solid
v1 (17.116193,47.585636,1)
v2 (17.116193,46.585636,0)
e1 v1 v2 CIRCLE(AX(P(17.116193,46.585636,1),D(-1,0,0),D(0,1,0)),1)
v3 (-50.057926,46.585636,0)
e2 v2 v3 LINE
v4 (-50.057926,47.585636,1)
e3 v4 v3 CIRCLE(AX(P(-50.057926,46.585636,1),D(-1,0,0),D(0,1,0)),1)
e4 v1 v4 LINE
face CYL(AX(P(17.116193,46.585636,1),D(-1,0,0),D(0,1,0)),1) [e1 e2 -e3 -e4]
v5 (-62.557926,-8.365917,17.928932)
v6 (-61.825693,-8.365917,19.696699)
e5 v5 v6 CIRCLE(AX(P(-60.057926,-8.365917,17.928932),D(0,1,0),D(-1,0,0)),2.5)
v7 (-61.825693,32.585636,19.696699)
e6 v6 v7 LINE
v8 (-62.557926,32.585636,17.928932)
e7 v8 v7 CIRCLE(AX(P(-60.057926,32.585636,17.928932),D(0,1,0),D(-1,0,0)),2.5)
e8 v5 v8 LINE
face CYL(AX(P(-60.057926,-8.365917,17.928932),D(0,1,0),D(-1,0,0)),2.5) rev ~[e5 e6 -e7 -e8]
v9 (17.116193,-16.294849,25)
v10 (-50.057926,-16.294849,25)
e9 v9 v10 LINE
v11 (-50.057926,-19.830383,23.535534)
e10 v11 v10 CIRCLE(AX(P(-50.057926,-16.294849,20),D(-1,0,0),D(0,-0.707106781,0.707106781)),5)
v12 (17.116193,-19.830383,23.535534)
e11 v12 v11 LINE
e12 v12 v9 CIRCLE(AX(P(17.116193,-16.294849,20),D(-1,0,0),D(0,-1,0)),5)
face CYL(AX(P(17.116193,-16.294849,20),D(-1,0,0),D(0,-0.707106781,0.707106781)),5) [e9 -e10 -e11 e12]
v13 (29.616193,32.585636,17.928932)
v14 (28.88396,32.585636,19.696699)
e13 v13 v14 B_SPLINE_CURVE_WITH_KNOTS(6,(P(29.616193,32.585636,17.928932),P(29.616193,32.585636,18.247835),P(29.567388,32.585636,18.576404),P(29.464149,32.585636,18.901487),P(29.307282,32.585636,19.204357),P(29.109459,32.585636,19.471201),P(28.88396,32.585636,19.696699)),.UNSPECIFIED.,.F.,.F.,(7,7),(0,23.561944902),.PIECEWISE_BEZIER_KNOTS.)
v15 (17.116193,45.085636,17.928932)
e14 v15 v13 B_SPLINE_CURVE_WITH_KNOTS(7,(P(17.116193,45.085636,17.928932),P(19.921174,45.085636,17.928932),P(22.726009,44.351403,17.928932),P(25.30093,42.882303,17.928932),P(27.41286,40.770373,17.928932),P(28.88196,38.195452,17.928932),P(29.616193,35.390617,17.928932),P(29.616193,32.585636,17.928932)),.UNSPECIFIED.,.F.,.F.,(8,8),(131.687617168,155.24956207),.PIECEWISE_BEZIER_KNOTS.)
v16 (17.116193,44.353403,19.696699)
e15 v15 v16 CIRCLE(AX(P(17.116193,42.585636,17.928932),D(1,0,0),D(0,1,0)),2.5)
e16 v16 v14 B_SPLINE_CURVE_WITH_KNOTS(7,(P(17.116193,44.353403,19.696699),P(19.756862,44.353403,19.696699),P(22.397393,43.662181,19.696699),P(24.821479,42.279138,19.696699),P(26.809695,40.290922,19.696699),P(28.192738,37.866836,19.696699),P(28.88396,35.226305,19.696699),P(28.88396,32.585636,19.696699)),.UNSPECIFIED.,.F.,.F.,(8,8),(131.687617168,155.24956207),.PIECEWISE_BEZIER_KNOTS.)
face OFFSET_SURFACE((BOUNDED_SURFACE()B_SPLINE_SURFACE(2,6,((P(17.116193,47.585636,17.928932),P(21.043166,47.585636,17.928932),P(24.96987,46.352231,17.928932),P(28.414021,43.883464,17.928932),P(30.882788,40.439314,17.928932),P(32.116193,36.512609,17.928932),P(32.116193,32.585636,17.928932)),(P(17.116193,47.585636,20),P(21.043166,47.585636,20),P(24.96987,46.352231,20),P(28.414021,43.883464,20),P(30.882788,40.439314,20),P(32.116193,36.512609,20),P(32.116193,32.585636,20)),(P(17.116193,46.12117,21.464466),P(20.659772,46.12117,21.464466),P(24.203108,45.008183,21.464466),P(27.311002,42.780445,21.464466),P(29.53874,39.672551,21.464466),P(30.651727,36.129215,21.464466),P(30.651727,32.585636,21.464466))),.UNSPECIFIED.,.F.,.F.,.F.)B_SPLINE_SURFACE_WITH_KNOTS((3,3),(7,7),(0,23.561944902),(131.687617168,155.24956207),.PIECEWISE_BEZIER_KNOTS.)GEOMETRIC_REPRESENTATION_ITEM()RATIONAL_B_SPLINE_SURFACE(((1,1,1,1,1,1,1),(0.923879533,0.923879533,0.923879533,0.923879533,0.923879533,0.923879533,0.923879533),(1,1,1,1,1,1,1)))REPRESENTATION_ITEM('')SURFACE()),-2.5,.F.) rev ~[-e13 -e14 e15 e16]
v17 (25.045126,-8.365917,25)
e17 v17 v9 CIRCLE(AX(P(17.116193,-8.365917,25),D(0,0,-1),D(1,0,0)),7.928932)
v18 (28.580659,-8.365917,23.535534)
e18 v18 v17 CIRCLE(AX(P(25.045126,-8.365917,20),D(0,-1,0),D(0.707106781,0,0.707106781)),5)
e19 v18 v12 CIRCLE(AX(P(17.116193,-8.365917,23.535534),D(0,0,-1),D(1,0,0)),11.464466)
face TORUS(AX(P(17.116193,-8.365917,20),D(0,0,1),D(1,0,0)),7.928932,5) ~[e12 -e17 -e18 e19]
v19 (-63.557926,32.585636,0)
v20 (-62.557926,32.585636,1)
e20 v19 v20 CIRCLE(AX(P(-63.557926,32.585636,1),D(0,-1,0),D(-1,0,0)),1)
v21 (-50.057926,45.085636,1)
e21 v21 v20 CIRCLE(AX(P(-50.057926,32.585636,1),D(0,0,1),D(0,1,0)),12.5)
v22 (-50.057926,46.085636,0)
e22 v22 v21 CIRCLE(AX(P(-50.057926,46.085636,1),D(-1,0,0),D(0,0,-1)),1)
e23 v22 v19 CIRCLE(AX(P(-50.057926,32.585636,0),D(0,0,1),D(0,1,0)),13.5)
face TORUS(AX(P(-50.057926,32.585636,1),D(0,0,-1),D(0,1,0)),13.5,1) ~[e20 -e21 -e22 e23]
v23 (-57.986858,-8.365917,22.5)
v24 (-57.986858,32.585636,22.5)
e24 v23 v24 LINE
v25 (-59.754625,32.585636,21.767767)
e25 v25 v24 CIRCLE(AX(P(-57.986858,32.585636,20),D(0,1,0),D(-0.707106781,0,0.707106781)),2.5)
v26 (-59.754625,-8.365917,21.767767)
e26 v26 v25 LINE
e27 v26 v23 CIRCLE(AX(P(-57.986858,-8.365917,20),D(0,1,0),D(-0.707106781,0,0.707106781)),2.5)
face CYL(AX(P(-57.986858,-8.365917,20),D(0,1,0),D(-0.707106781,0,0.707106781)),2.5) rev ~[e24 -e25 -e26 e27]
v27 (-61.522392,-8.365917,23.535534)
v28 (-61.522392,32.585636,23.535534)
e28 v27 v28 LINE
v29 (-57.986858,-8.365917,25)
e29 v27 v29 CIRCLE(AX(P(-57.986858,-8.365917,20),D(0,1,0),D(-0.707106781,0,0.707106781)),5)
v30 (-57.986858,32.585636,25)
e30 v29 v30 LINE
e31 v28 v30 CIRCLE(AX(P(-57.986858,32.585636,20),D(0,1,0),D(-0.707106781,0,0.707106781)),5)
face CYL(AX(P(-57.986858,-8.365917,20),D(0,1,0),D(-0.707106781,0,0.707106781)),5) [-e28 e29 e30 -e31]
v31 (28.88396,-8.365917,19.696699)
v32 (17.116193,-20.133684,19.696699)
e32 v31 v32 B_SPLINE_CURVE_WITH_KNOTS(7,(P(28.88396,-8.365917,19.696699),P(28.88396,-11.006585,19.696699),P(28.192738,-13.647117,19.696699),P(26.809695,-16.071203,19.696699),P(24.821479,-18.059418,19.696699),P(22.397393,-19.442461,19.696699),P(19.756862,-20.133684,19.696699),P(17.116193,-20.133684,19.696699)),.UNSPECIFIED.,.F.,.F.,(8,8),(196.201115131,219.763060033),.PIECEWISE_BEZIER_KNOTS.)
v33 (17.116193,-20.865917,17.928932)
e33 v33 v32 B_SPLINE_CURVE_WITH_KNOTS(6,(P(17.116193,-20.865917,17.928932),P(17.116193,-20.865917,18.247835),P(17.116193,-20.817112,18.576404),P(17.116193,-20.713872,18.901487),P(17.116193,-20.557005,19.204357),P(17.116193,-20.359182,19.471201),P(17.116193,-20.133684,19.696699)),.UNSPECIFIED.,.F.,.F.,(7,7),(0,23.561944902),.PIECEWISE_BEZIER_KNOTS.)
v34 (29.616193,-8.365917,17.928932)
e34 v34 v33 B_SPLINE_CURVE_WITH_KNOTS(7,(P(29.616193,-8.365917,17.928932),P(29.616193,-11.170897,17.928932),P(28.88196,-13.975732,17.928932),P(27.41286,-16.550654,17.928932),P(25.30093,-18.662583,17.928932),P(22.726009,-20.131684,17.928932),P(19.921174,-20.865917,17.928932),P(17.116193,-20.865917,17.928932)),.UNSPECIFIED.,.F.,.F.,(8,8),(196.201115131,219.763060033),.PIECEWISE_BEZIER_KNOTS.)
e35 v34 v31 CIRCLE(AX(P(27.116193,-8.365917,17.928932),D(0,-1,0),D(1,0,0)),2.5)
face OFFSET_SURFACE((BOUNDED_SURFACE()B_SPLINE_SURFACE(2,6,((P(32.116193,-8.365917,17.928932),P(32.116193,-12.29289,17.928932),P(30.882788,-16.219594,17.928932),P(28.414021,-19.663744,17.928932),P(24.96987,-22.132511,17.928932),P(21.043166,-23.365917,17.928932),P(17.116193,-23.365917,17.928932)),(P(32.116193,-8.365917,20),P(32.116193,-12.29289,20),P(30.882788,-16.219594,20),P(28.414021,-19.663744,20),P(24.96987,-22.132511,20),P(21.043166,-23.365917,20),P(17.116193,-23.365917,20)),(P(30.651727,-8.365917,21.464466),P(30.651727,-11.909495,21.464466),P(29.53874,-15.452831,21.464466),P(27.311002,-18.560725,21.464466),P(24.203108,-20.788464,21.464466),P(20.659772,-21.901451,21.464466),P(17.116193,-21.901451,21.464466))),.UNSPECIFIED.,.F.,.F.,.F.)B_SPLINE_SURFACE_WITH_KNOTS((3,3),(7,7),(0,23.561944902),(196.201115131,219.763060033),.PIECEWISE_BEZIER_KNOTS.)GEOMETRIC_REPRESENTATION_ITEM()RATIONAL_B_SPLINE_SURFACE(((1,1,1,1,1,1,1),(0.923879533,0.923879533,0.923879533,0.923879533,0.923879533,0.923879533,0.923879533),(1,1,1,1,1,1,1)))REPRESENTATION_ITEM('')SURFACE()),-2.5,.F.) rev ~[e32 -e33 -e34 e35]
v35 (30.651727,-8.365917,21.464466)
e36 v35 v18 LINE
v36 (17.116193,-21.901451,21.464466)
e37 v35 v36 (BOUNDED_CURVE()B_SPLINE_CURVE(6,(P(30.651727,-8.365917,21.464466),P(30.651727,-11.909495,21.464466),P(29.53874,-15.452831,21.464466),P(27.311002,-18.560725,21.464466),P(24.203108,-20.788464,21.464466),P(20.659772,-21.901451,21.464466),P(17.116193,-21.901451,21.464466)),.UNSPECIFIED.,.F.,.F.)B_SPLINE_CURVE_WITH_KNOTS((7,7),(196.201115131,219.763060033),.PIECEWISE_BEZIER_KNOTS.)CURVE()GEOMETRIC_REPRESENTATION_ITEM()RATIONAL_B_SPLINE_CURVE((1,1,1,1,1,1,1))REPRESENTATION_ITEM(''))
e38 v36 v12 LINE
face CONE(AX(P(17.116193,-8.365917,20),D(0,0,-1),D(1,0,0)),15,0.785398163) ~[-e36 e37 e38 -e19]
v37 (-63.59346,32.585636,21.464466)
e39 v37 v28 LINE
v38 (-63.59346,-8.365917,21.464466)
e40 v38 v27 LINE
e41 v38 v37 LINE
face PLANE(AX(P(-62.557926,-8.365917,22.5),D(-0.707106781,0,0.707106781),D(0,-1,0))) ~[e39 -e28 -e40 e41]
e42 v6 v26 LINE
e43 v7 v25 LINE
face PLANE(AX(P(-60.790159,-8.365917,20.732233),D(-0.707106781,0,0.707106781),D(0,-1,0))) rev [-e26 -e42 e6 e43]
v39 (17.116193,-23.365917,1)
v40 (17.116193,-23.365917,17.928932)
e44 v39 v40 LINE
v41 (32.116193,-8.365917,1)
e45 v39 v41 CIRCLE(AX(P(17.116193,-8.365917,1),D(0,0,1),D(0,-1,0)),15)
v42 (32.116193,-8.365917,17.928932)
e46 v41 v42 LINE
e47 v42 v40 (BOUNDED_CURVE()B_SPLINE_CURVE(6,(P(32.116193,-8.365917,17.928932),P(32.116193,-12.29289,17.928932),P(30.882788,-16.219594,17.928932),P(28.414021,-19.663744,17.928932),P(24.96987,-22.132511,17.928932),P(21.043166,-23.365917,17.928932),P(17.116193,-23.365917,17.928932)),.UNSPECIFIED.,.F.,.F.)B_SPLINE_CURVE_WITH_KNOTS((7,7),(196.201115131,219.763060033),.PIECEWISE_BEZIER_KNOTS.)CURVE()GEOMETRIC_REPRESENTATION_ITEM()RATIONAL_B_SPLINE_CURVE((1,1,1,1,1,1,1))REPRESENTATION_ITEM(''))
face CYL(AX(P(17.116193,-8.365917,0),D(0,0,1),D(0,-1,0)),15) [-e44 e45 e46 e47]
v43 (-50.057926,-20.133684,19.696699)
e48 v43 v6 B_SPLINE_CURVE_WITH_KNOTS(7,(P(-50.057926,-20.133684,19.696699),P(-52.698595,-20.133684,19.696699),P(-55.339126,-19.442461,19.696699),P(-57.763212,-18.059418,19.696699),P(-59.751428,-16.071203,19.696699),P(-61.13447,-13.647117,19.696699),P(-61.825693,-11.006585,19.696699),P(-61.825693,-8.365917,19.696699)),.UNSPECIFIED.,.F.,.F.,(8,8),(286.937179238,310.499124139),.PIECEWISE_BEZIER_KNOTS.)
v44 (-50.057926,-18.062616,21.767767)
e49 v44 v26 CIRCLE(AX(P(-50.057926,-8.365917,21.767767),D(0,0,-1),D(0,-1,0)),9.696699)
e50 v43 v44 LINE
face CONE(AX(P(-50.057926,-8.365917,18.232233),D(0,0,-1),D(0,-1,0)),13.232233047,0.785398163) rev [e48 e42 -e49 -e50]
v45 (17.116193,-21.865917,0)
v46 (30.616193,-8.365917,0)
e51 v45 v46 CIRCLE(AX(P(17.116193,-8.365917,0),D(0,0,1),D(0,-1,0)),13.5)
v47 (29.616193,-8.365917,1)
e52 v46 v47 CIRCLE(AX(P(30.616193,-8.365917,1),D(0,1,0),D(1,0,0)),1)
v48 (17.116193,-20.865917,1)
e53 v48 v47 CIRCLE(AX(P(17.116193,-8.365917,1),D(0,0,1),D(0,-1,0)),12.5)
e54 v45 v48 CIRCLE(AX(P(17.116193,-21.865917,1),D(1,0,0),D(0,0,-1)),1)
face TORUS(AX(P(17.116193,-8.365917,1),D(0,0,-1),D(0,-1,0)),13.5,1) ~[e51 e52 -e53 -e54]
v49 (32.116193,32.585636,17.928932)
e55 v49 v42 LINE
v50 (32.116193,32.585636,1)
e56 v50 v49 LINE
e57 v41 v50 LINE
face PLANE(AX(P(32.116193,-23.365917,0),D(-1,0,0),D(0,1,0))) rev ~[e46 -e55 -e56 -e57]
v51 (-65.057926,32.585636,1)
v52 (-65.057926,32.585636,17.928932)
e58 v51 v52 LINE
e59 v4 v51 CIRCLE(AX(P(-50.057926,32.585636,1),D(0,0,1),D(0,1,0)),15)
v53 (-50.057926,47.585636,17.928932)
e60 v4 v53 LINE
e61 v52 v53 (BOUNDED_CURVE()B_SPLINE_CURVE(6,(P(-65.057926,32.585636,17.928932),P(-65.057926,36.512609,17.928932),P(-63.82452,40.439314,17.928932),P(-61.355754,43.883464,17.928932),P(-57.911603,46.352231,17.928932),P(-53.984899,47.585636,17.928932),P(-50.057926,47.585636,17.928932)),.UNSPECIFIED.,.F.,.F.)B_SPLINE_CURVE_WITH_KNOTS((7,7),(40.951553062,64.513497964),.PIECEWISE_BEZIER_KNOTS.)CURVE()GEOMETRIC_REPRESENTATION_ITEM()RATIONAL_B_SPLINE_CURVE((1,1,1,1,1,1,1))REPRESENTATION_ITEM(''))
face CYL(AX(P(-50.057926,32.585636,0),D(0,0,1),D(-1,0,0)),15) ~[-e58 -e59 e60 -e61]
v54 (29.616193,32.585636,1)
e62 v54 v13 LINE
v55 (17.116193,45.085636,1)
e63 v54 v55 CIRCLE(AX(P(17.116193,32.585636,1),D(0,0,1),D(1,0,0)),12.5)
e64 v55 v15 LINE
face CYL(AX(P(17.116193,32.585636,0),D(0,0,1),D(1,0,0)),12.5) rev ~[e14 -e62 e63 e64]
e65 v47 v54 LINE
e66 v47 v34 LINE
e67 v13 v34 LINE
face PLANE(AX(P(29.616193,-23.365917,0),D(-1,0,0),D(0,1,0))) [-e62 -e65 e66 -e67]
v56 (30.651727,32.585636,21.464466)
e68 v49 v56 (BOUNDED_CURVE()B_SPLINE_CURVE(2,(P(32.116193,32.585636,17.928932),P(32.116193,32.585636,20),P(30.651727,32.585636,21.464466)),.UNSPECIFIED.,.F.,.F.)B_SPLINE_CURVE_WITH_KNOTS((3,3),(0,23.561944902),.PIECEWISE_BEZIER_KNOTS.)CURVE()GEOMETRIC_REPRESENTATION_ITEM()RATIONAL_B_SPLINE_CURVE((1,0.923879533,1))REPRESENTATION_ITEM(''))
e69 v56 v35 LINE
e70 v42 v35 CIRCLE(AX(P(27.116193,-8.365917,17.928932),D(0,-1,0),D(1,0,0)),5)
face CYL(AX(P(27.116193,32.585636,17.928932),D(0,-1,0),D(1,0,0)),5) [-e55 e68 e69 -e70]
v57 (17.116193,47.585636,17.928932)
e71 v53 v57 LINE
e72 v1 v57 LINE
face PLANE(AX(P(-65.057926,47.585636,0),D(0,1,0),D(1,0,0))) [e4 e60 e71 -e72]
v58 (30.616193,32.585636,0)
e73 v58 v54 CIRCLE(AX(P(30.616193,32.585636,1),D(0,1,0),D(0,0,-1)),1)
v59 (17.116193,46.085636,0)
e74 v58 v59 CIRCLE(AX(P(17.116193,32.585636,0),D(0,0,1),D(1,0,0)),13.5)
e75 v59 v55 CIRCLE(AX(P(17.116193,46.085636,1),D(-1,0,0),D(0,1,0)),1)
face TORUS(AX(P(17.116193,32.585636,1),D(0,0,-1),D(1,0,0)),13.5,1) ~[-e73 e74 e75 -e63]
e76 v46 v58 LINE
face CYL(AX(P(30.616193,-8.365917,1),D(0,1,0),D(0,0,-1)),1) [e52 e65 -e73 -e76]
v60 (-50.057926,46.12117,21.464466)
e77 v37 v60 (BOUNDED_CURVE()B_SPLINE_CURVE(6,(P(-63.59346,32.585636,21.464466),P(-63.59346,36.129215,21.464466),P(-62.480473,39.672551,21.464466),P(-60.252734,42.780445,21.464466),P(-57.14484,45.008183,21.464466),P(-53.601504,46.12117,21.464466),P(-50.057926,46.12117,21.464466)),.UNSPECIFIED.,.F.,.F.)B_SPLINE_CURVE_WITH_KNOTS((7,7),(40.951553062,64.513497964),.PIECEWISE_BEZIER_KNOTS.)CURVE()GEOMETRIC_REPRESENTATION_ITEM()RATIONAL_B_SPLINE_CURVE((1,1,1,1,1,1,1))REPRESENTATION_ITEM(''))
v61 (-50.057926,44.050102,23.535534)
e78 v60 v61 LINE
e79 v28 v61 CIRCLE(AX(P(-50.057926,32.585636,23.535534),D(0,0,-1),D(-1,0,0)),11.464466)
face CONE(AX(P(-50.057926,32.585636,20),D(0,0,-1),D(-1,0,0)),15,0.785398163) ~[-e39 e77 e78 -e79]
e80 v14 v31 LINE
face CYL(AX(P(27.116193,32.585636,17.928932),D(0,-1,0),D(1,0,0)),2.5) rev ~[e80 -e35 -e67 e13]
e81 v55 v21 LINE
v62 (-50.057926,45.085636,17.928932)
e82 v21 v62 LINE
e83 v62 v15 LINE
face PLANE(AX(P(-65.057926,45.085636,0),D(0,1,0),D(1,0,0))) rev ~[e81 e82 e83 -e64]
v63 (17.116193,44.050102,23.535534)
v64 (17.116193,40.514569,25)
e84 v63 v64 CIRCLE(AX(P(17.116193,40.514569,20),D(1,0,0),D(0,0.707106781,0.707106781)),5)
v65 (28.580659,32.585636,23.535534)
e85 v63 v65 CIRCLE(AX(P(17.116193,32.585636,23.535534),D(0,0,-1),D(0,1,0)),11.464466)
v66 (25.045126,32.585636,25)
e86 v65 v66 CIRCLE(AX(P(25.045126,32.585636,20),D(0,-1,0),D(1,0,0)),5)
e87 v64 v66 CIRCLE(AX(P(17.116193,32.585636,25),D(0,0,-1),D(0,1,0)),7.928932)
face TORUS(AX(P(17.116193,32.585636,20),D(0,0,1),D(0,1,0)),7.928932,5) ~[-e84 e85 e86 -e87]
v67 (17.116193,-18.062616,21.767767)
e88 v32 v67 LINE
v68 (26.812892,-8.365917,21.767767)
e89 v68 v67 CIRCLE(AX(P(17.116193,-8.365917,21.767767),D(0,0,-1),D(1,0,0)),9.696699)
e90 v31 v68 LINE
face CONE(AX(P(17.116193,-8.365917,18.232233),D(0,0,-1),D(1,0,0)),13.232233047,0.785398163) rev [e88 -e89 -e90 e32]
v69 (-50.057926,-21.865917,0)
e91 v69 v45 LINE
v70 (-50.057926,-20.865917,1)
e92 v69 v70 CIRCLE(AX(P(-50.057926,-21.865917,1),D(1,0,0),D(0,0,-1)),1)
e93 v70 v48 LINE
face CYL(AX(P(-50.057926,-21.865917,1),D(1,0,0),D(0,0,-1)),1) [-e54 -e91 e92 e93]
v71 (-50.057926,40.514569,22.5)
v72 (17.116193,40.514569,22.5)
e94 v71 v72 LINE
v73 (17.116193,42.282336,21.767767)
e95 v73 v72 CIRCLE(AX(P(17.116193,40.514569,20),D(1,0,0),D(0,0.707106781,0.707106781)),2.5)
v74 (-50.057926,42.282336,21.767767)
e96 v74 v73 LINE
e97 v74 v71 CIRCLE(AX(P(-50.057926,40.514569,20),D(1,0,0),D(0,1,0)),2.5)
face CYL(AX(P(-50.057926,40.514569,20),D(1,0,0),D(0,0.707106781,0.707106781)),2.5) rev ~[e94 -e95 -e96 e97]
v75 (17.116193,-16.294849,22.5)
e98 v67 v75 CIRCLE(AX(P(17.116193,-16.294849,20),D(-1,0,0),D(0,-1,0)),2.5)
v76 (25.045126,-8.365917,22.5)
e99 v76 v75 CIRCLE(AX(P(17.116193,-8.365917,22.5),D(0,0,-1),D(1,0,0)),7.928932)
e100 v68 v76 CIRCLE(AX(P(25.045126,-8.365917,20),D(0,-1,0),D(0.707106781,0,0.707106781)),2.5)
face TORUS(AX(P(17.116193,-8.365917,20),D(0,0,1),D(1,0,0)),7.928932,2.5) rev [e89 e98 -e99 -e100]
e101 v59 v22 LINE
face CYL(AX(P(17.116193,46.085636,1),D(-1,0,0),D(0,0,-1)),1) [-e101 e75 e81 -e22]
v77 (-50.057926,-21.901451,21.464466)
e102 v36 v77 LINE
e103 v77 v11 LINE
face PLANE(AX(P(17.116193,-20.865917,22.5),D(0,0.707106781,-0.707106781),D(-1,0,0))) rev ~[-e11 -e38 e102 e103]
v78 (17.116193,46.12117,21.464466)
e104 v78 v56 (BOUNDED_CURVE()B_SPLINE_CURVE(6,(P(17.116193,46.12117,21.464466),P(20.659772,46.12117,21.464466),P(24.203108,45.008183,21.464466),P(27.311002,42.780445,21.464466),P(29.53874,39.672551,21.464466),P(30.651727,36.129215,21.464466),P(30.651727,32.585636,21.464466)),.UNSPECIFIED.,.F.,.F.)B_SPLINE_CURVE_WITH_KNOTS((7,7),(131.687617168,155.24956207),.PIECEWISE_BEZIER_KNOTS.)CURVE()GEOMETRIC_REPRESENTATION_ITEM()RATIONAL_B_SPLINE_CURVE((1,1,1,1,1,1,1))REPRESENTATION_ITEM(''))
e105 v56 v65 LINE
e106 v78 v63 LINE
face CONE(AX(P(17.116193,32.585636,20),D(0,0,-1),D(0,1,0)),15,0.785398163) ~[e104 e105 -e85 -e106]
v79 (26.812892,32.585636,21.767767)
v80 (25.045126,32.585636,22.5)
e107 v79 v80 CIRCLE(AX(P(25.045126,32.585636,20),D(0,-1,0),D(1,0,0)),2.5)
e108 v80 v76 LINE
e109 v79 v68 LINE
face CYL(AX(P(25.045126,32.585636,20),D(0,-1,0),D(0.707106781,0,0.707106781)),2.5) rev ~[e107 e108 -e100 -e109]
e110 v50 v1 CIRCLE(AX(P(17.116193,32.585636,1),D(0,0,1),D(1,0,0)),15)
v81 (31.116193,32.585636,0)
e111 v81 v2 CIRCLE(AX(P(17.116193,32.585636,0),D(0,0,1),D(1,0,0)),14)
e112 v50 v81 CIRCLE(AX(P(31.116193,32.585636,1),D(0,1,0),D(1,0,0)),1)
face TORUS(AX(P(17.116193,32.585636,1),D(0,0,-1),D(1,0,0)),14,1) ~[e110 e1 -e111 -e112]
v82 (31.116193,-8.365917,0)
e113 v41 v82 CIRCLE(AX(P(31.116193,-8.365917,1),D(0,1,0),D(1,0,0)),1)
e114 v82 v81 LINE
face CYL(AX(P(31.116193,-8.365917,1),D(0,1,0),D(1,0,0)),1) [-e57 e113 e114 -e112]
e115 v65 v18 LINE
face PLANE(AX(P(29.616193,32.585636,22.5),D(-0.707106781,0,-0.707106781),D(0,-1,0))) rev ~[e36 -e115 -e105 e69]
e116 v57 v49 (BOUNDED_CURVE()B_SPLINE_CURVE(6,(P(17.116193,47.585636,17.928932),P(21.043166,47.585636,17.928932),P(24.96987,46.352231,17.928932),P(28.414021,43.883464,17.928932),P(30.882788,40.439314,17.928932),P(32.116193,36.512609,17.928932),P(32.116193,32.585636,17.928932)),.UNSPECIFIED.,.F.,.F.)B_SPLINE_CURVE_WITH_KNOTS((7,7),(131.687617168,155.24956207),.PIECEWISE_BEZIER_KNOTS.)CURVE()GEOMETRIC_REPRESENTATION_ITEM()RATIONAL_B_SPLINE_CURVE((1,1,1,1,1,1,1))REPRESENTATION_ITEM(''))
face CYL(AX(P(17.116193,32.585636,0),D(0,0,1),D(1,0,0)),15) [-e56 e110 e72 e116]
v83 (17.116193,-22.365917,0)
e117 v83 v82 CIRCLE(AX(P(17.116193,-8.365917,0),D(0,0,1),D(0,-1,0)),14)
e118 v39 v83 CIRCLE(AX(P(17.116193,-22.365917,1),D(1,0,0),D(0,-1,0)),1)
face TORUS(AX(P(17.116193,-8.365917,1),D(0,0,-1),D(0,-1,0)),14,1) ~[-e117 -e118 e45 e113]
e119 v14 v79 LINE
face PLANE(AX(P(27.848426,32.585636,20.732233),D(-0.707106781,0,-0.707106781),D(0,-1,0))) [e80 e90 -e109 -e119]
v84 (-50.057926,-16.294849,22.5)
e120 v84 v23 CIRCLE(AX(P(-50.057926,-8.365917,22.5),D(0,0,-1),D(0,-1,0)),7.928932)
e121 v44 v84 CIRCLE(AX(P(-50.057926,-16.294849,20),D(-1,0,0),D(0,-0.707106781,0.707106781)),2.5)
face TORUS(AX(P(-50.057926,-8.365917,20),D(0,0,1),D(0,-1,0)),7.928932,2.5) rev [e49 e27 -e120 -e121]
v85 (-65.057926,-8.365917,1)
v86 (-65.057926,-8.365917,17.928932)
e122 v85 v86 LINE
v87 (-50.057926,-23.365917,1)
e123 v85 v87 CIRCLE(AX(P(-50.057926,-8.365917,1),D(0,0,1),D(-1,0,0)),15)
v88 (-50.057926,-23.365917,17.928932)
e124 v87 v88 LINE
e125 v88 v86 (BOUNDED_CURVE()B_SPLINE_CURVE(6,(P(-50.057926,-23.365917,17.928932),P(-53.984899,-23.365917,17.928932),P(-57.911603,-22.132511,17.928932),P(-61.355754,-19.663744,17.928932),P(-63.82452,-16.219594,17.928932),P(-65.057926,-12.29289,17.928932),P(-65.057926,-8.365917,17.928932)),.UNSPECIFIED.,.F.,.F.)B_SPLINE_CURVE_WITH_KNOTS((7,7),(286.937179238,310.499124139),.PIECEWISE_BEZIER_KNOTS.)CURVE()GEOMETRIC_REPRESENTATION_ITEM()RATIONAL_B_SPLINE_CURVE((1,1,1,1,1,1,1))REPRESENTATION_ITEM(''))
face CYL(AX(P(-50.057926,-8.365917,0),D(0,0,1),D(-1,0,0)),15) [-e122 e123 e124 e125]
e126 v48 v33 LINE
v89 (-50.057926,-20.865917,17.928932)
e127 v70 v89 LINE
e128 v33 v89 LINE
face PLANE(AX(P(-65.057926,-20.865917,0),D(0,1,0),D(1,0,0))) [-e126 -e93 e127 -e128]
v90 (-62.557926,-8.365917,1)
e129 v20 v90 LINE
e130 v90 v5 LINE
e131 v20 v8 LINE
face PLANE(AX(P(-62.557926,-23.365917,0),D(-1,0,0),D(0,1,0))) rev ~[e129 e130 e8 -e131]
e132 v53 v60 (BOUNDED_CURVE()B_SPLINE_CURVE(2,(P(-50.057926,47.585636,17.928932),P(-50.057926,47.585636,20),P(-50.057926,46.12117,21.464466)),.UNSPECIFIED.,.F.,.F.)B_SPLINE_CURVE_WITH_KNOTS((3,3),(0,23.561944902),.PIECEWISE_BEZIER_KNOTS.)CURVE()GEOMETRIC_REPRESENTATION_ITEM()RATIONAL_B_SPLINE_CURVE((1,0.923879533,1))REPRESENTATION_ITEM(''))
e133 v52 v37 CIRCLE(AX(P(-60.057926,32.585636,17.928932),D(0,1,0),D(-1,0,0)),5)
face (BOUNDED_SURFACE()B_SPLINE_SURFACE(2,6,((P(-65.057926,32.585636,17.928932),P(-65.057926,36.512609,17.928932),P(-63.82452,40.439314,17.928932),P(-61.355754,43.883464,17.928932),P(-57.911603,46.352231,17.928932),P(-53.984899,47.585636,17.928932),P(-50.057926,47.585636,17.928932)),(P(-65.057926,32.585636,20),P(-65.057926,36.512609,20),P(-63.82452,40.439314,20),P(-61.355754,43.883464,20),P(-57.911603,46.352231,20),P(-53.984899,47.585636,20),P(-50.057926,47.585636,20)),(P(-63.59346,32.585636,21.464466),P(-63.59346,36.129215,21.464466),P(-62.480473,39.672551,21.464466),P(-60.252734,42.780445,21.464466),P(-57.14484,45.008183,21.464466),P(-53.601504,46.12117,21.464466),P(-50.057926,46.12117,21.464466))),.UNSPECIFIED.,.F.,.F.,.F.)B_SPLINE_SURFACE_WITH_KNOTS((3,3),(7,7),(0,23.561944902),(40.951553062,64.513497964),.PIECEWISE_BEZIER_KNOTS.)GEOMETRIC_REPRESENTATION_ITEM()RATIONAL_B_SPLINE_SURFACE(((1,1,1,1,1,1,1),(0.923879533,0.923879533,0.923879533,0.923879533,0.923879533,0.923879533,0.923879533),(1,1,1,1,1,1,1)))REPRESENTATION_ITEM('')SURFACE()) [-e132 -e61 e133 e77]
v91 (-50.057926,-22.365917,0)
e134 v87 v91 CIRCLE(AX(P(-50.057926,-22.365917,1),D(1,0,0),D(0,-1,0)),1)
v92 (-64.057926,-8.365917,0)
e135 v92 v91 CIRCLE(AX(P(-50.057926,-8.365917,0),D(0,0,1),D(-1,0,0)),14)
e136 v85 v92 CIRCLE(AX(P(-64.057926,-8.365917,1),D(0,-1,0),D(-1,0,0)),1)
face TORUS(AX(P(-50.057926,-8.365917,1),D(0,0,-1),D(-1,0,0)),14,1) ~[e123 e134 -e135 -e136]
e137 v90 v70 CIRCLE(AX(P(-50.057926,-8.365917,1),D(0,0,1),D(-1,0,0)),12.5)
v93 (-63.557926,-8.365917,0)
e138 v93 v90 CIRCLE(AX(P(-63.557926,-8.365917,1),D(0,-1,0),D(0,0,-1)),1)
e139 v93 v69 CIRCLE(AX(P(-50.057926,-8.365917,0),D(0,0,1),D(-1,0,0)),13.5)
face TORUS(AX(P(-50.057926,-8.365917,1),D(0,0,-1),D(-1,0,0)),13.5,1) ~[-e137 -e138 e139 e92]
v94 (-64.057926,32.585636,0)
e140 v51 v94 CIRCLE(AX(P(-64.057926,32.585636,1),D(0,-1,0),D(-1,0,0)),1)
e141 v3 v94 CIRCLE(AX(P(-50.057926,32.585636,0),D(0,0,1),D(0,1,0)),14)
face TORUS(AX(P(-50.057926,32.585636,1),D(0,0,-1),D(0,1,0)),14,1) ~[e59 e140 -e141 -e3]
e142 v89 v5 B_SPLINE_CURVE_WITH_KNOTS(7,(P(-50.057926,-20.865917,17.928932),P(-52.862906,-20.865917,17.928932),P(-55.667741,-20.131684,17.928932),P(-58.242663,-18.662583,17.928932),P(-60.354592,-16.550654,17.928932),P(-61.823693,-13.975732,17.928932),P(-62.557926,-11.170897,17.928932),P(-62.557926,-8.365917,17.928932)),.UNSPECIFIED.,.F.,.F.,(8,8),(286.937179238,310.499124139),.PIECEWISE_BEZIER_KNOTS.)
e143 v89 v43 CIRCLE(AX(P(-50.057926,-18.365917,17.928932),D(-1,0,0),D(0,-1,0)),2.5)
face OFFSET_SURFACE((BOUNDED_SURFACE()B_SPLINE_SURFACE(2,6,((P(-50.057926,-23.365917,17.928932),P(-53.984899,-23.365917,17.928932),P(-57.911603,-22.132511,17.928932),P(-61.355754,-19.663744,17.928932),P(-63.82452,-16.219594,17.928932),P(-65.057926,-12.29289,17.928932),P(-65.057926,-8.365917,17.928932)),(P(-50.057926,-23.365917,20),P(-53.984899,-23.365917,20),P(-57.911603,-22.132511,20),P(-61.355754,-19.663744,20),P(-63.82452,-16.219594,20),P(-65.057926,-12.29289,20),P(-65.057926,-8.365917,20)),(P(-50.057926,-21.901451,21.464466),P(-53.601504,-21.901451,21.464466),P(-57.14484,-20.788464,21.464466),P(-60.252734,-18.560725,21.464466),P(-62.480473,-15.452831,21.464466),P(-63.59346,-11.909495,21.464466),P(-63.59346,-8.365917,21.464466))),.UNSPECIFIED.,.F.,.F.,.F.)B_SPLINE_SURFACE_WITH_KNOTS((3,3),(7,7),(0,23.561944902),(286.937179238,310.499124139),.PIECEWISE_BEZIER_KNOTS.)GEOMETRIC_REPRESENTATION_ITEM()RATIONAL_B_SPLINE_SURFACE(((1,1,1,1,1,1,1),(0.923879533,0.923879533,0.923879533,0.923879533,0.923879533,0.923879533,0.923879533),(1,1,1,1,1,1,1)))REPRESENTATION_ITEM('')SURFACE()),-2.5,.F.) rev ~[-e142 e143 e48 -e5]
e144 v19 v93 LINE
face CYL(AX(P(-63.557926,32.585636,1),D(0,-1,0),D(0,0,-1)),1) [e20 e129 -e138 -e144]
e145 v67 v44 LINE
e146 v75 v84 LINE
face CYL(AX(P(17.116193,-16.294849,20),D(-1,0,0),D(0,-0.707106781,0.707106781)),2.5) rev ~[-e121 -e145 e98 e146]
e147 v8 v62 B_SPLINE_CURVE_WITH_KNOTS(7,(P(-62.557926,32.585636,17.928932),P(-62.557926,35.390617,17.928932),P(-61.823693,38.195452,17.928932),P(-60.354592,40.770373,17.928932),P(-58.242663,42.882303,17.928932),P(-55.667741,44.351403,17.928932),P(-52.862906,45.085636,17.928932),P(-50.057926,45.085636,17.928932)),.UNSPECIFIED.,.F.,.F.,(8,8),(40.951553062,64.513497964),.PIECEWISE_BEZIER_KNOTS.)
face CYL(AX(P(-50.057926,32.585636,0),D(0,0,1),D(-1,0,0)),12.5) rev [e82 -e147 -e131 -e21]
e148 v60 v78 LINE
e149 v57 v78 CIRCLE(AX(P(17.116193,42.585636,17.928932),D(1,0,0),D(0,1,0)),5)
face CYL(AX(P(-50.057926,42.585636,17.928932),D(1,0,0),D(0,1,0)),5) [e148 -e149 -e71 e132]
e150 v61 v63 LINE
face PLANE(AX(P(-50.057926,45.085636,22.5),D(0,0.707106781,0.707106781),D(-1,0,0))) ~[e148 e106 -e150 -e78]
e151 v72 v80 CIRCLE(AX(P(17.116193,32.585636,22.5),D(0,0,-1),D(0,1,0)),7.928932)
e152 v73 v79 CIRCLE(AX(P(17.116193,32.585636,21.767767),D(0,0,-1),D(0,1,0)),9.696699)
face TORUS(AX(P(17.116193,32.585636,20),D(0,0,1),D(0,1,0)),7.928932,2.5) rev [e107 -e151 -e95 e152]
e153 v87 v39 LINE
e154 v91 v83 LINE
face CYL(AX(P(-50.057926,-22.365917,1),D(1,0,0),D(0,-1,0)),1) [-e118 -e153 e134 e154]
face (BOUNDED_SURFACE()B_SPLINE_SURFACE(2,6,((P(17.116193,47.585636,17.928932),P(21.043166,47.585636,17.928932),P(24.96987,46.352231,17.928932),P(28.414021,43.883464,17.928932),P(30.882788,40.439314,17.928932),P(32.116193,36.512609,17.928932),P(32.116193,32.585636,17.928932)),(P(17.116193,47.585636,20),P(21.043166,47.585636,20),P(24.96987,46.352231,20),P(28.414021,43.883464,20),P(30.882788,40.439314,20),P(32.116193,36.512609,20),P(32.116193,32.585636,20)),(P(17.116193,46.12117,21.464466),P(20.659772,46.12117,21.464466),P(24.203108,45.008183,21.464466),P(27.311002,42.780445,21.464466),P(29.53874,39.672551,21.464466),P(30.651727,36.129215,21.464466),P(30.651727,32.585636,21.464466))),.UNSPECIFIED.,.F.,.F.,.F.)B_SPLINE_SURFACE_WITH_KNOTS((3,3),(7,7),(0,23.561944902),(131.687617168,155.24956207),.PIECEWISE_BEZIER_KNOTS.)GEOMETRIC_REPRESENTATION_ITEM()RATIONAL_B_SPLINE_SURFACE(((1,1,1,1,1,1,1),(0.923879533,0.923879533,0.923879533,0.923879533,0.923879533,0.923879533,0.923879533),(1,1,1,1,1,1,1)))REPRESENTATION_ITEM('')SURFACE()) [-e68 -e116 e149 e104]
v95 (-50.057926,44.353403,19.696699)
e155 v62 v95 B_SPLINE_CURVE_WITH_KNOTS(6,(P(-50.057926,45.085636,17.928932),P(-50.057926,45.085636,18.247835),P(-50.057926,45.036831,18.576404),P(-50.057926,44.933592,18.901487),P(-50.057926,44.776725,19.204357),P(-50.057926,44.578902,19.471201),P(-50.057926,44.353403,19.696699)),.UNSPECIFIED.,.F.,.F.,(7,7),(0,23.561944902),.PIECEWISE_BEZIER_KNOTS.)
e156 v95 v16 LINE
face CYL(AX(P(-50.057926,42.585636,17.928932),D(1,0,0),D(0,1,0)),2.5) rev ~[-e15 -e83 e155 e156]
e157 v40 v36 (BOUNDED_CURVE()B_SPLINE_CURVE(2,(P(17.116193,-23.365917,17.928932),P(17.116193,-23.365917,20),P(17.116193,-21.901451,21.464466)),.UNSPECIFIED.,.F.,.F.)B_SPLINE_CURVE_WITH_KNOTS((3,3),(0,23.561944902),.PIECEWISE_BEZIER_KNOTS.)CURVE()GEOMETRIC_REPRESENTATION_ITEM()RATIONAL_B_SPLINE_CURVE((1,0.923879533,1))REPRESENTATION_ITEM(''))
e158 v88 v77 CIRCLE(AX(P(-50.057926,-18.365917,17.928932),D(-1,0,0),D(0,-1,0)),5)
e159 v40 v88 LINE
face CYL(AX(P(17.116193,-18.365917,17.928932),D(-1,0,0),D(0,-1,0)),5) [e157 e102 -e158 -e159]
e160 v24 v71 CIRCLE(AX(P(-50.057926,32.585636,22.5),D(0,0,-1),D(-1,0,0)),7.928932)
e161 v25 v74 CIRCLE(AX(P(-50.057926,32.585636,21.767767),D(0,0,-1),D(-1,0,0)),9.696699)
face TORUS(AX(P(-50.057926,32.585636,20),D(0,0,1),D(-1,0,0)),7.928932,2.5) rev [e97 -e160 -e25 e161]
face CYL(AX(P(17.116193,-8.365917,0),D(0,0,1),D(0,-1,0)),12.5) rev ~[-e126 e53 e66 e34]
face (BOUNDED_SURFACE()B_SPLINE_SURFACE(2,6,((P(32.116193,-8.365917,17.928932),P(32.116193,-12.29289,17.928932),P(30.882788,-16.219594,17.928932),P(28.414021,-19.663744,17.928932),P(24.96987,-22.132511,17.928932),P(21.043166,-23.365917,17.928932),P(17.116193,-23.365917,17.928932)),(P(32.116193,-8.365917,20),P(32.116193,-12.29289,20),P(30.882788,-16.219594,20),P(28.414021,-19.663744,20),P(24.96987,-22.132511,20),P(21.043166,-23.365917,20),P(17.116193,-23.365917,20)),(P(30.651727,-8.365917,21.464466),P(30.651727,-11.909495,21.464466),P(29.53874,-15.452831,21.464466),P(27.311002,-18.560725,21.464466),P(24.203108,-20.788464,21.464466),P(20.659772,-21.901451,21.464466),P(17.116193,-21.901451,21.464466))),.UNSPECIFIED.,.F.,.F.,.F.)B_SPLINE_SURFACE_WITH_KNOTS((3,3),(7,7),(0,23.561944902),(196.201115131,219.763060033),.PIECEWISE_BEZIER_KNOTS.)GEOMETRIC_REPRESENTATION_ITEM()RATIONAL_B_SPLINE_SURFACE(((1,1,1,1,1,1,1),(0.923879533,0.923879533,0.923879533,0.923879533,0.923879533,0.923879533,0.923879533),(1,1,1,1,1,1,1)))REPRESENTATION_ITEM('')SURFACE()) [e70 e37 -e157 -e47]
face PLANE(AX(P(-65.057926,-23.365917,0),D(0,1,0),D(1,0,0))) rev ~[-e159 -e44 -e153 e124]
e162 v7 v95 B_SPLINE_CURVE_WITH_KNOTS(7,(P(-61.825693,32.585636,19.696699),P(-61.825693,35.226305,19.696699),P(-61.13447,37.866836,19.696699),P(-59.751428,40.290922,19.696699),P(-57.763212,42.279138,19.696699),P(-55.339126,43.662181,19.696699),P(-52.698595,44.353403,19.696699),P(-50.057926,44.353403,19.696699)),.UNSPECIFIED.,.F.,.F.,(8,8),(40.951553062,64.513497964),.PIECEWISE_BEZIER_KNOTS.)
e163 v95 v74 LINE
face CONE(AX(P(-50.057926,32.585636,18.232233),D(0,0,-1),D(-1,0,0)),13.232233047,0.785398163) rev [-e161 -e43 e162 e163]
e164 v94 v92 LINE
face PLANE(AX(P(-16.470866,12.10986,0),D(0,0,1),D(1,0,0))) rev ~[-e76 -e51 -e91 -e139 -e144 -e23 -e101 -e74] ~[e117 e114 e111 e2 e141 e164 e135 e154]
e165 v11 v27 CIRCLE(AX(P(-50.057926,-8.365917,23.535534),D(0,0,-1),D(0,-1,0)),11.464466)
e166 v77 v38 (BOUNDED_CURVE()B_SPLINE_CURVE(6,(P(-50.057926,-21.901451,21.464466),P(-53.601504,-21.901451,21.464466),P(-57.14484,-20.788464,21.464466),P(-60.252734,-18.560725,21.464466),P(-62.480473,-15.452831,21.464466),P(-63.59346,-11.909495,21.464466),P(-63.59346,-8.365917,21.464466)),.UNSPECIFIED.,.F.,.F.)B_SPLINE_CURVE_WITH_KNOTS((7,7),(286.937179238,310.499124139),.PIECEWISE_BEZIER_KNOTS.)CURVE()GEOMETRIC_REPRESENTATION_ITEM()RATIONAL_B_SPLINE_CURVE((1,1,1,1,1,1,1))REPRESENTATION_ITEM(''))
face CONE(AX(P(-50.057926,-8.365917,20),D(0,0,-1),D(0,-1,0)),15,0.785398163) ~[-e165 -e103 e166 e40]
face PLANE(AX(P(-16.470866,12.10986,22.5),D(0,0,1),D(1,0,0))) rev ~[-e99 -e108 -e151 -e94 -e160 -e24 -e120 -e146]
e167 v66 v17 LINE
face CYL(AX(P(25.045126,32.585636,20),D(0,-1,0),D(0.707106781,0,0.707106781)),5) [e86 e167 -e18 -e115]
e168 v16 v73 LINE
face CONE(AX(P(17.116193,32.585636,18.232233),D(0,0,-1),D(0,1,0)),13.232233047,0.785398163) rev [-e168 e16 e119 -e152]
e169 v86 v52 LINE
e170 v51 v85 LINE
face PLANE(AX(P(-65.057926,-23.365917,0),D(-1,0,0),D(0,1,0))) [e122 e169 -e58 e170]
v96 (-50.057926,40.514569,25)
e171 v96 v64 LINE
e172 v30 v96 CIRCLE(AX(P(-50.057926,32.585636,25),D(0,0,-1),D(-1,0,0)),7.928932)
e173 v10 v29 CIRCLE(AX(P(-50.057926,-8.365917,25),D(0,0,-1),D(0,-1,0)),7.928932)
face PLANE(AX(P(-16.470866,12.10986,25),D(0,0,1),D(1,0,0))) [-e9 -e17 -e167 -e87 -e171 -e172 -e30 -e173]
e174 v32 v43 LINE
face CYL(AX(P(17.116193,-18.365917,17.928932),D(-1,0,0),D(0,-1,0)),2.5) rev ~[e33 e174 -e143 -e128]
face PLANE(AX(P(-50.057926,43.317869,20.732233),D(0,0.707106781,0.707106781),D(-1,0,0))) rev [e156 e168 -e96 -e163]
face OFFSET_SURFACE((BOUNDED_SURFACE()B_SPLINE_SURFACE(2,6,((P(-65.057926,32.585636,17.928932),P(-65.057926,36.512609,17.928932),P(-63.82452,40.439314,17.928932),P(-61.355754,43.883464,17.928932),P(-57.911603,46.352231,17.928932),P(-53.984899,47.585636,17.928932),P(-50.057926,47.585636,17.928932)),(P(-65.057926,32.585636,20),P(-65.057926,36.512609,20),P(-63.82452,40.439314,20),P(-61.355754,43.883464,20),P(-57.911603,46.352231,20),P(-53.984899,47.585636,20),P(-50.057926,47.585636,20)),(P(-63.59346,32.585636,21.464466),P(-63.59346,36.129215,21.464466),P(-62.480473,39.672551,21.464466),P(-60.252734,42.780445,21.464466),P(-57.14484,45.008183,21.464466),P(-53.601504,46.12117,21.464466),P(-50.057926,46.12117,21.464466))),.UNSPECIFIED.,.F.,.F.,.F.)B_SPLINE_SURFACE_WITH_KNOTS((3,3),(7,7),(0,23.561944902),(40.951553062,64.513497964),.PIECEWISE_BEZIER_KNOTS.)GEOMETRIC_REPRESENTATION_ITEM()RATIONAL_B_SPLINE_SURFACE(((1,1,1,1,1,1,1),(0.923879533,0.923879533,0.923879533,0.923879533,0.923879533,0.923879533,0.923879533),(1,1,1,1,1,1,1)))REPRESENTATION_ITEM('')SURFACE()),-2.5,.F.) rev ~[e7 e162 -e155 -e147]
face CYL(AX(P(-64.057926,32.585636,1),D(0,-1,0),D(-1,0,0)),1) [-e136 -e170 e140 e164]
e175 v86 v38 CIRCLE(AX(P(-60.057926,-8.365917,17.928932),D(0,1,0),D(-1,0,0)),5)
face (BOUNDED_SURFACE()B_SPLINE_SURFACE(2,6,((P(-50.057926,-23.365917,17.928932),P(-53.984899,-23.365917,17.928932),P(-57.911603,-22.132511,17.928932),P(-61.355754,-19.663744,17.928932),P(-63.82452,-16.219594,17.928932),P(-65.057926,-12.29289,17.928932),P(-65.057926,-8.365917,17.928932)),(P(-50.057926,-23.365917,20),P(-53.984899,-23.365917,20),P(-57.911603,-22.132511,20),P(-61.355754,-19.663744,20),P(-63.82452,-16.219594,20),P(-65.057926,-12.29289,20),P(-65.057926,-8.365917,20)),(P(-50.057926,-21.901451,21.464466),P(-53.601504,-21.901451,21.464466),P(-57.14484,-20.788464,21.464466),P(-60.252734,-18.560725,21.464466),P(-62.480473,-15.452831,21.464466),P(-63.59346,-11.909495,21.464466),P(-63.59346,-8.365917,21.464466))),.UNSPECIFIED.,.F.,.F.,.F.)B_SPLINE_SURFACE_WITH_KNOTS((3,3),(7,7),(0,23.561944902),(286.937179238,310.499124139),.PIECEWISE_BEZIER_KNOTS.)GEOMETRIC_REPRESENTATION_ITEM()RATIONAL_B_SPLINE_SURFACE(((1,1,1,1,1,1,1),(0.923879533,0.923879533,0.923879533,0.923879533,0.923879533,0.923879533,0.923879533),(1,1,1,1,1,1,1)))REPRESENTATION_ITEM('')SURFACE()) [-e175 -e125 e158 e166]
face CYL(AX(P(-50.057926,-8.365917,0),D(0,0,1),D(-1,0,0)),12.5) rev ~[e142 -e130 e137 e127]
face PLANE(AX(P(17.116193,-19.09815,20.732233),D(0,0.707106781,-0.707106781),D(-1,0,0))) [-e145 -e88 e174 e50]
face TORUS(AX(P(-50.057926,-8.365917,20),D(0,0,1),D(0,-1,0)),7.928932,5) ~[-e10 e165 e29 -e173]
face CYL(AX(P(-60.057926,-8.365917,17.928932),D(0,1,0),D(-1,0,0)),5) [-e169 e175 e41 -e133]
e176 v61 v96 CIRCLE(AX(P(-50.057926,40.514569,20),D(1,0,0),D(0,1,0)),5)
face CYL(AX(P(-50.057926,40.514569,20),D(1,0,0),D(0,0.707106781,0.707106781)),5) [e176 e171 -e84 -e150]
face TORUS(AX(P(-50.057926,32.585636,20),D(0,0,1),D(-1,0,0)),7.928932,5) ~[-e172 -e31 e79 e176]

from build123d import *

# Parameters (mm, degrees)
F0_W     = 97.1741192043
F0_H     = 70.9515530616
F1_DEPTH = 25
F2_R     = 15
F3_SIZE  = 5
F4_R     = 5
F5_T     = -2.5
F6_R     = 1


with BuildPart() as f1:
    # F0 (on Top) → F1 (new body)
    with BuildSketch(Plane.XY):
        with Locations((-16.4708662778, 12.1098598465)):
            Rectangle(F0_W, F0_H)
    extrude(amount=F1_DEPTH)

    # F2
    f2_edges = [f1.edges().sort_by_distance(p)[0] for p in [
        (-65.057926, -23.365917, 12.5),
        (32.116193, -23.365917, 12.5),
        (32.116193, 47.585636, 12.5),
        (-65.057926, 47.585636, 12.5),
    ]]
    fillet(f2_edges, radius=F2_R)

    # F3
    f3_edges = [f1.edges().sort_by_distance(p)[0] for p in [
        (-65.057926, 12.10986, 25),
    ]]
    chamfer(f3_edges, length=F3_SIZE)

    # F4
    f4_edges = [f1.edges().sort_by_distance(p)[0] for p in [
        (-65.057926, 12.10986, 20),
        (-60.057926, 12.10986, 25),
    ]]
    fillet(f4_edges, radius=F4_R)

    # F5
    f5_openings = [f1.faces().sort_by_distance(p)[0] for p in [
        (-16.470866, 12.10986, 0),
    ]]
    offset(amount=F5_T, openings=f5_openings)

    # F6
    f6_edges = [f1.edges().sort_by_distance(p)[0] for p in [
        (-16.470866, -20.865917, 0),
        (-60.664528, -18.972518, 0),
    ]]
    fillet(f6_edges, radius=F6_R)


solid = f1.part
